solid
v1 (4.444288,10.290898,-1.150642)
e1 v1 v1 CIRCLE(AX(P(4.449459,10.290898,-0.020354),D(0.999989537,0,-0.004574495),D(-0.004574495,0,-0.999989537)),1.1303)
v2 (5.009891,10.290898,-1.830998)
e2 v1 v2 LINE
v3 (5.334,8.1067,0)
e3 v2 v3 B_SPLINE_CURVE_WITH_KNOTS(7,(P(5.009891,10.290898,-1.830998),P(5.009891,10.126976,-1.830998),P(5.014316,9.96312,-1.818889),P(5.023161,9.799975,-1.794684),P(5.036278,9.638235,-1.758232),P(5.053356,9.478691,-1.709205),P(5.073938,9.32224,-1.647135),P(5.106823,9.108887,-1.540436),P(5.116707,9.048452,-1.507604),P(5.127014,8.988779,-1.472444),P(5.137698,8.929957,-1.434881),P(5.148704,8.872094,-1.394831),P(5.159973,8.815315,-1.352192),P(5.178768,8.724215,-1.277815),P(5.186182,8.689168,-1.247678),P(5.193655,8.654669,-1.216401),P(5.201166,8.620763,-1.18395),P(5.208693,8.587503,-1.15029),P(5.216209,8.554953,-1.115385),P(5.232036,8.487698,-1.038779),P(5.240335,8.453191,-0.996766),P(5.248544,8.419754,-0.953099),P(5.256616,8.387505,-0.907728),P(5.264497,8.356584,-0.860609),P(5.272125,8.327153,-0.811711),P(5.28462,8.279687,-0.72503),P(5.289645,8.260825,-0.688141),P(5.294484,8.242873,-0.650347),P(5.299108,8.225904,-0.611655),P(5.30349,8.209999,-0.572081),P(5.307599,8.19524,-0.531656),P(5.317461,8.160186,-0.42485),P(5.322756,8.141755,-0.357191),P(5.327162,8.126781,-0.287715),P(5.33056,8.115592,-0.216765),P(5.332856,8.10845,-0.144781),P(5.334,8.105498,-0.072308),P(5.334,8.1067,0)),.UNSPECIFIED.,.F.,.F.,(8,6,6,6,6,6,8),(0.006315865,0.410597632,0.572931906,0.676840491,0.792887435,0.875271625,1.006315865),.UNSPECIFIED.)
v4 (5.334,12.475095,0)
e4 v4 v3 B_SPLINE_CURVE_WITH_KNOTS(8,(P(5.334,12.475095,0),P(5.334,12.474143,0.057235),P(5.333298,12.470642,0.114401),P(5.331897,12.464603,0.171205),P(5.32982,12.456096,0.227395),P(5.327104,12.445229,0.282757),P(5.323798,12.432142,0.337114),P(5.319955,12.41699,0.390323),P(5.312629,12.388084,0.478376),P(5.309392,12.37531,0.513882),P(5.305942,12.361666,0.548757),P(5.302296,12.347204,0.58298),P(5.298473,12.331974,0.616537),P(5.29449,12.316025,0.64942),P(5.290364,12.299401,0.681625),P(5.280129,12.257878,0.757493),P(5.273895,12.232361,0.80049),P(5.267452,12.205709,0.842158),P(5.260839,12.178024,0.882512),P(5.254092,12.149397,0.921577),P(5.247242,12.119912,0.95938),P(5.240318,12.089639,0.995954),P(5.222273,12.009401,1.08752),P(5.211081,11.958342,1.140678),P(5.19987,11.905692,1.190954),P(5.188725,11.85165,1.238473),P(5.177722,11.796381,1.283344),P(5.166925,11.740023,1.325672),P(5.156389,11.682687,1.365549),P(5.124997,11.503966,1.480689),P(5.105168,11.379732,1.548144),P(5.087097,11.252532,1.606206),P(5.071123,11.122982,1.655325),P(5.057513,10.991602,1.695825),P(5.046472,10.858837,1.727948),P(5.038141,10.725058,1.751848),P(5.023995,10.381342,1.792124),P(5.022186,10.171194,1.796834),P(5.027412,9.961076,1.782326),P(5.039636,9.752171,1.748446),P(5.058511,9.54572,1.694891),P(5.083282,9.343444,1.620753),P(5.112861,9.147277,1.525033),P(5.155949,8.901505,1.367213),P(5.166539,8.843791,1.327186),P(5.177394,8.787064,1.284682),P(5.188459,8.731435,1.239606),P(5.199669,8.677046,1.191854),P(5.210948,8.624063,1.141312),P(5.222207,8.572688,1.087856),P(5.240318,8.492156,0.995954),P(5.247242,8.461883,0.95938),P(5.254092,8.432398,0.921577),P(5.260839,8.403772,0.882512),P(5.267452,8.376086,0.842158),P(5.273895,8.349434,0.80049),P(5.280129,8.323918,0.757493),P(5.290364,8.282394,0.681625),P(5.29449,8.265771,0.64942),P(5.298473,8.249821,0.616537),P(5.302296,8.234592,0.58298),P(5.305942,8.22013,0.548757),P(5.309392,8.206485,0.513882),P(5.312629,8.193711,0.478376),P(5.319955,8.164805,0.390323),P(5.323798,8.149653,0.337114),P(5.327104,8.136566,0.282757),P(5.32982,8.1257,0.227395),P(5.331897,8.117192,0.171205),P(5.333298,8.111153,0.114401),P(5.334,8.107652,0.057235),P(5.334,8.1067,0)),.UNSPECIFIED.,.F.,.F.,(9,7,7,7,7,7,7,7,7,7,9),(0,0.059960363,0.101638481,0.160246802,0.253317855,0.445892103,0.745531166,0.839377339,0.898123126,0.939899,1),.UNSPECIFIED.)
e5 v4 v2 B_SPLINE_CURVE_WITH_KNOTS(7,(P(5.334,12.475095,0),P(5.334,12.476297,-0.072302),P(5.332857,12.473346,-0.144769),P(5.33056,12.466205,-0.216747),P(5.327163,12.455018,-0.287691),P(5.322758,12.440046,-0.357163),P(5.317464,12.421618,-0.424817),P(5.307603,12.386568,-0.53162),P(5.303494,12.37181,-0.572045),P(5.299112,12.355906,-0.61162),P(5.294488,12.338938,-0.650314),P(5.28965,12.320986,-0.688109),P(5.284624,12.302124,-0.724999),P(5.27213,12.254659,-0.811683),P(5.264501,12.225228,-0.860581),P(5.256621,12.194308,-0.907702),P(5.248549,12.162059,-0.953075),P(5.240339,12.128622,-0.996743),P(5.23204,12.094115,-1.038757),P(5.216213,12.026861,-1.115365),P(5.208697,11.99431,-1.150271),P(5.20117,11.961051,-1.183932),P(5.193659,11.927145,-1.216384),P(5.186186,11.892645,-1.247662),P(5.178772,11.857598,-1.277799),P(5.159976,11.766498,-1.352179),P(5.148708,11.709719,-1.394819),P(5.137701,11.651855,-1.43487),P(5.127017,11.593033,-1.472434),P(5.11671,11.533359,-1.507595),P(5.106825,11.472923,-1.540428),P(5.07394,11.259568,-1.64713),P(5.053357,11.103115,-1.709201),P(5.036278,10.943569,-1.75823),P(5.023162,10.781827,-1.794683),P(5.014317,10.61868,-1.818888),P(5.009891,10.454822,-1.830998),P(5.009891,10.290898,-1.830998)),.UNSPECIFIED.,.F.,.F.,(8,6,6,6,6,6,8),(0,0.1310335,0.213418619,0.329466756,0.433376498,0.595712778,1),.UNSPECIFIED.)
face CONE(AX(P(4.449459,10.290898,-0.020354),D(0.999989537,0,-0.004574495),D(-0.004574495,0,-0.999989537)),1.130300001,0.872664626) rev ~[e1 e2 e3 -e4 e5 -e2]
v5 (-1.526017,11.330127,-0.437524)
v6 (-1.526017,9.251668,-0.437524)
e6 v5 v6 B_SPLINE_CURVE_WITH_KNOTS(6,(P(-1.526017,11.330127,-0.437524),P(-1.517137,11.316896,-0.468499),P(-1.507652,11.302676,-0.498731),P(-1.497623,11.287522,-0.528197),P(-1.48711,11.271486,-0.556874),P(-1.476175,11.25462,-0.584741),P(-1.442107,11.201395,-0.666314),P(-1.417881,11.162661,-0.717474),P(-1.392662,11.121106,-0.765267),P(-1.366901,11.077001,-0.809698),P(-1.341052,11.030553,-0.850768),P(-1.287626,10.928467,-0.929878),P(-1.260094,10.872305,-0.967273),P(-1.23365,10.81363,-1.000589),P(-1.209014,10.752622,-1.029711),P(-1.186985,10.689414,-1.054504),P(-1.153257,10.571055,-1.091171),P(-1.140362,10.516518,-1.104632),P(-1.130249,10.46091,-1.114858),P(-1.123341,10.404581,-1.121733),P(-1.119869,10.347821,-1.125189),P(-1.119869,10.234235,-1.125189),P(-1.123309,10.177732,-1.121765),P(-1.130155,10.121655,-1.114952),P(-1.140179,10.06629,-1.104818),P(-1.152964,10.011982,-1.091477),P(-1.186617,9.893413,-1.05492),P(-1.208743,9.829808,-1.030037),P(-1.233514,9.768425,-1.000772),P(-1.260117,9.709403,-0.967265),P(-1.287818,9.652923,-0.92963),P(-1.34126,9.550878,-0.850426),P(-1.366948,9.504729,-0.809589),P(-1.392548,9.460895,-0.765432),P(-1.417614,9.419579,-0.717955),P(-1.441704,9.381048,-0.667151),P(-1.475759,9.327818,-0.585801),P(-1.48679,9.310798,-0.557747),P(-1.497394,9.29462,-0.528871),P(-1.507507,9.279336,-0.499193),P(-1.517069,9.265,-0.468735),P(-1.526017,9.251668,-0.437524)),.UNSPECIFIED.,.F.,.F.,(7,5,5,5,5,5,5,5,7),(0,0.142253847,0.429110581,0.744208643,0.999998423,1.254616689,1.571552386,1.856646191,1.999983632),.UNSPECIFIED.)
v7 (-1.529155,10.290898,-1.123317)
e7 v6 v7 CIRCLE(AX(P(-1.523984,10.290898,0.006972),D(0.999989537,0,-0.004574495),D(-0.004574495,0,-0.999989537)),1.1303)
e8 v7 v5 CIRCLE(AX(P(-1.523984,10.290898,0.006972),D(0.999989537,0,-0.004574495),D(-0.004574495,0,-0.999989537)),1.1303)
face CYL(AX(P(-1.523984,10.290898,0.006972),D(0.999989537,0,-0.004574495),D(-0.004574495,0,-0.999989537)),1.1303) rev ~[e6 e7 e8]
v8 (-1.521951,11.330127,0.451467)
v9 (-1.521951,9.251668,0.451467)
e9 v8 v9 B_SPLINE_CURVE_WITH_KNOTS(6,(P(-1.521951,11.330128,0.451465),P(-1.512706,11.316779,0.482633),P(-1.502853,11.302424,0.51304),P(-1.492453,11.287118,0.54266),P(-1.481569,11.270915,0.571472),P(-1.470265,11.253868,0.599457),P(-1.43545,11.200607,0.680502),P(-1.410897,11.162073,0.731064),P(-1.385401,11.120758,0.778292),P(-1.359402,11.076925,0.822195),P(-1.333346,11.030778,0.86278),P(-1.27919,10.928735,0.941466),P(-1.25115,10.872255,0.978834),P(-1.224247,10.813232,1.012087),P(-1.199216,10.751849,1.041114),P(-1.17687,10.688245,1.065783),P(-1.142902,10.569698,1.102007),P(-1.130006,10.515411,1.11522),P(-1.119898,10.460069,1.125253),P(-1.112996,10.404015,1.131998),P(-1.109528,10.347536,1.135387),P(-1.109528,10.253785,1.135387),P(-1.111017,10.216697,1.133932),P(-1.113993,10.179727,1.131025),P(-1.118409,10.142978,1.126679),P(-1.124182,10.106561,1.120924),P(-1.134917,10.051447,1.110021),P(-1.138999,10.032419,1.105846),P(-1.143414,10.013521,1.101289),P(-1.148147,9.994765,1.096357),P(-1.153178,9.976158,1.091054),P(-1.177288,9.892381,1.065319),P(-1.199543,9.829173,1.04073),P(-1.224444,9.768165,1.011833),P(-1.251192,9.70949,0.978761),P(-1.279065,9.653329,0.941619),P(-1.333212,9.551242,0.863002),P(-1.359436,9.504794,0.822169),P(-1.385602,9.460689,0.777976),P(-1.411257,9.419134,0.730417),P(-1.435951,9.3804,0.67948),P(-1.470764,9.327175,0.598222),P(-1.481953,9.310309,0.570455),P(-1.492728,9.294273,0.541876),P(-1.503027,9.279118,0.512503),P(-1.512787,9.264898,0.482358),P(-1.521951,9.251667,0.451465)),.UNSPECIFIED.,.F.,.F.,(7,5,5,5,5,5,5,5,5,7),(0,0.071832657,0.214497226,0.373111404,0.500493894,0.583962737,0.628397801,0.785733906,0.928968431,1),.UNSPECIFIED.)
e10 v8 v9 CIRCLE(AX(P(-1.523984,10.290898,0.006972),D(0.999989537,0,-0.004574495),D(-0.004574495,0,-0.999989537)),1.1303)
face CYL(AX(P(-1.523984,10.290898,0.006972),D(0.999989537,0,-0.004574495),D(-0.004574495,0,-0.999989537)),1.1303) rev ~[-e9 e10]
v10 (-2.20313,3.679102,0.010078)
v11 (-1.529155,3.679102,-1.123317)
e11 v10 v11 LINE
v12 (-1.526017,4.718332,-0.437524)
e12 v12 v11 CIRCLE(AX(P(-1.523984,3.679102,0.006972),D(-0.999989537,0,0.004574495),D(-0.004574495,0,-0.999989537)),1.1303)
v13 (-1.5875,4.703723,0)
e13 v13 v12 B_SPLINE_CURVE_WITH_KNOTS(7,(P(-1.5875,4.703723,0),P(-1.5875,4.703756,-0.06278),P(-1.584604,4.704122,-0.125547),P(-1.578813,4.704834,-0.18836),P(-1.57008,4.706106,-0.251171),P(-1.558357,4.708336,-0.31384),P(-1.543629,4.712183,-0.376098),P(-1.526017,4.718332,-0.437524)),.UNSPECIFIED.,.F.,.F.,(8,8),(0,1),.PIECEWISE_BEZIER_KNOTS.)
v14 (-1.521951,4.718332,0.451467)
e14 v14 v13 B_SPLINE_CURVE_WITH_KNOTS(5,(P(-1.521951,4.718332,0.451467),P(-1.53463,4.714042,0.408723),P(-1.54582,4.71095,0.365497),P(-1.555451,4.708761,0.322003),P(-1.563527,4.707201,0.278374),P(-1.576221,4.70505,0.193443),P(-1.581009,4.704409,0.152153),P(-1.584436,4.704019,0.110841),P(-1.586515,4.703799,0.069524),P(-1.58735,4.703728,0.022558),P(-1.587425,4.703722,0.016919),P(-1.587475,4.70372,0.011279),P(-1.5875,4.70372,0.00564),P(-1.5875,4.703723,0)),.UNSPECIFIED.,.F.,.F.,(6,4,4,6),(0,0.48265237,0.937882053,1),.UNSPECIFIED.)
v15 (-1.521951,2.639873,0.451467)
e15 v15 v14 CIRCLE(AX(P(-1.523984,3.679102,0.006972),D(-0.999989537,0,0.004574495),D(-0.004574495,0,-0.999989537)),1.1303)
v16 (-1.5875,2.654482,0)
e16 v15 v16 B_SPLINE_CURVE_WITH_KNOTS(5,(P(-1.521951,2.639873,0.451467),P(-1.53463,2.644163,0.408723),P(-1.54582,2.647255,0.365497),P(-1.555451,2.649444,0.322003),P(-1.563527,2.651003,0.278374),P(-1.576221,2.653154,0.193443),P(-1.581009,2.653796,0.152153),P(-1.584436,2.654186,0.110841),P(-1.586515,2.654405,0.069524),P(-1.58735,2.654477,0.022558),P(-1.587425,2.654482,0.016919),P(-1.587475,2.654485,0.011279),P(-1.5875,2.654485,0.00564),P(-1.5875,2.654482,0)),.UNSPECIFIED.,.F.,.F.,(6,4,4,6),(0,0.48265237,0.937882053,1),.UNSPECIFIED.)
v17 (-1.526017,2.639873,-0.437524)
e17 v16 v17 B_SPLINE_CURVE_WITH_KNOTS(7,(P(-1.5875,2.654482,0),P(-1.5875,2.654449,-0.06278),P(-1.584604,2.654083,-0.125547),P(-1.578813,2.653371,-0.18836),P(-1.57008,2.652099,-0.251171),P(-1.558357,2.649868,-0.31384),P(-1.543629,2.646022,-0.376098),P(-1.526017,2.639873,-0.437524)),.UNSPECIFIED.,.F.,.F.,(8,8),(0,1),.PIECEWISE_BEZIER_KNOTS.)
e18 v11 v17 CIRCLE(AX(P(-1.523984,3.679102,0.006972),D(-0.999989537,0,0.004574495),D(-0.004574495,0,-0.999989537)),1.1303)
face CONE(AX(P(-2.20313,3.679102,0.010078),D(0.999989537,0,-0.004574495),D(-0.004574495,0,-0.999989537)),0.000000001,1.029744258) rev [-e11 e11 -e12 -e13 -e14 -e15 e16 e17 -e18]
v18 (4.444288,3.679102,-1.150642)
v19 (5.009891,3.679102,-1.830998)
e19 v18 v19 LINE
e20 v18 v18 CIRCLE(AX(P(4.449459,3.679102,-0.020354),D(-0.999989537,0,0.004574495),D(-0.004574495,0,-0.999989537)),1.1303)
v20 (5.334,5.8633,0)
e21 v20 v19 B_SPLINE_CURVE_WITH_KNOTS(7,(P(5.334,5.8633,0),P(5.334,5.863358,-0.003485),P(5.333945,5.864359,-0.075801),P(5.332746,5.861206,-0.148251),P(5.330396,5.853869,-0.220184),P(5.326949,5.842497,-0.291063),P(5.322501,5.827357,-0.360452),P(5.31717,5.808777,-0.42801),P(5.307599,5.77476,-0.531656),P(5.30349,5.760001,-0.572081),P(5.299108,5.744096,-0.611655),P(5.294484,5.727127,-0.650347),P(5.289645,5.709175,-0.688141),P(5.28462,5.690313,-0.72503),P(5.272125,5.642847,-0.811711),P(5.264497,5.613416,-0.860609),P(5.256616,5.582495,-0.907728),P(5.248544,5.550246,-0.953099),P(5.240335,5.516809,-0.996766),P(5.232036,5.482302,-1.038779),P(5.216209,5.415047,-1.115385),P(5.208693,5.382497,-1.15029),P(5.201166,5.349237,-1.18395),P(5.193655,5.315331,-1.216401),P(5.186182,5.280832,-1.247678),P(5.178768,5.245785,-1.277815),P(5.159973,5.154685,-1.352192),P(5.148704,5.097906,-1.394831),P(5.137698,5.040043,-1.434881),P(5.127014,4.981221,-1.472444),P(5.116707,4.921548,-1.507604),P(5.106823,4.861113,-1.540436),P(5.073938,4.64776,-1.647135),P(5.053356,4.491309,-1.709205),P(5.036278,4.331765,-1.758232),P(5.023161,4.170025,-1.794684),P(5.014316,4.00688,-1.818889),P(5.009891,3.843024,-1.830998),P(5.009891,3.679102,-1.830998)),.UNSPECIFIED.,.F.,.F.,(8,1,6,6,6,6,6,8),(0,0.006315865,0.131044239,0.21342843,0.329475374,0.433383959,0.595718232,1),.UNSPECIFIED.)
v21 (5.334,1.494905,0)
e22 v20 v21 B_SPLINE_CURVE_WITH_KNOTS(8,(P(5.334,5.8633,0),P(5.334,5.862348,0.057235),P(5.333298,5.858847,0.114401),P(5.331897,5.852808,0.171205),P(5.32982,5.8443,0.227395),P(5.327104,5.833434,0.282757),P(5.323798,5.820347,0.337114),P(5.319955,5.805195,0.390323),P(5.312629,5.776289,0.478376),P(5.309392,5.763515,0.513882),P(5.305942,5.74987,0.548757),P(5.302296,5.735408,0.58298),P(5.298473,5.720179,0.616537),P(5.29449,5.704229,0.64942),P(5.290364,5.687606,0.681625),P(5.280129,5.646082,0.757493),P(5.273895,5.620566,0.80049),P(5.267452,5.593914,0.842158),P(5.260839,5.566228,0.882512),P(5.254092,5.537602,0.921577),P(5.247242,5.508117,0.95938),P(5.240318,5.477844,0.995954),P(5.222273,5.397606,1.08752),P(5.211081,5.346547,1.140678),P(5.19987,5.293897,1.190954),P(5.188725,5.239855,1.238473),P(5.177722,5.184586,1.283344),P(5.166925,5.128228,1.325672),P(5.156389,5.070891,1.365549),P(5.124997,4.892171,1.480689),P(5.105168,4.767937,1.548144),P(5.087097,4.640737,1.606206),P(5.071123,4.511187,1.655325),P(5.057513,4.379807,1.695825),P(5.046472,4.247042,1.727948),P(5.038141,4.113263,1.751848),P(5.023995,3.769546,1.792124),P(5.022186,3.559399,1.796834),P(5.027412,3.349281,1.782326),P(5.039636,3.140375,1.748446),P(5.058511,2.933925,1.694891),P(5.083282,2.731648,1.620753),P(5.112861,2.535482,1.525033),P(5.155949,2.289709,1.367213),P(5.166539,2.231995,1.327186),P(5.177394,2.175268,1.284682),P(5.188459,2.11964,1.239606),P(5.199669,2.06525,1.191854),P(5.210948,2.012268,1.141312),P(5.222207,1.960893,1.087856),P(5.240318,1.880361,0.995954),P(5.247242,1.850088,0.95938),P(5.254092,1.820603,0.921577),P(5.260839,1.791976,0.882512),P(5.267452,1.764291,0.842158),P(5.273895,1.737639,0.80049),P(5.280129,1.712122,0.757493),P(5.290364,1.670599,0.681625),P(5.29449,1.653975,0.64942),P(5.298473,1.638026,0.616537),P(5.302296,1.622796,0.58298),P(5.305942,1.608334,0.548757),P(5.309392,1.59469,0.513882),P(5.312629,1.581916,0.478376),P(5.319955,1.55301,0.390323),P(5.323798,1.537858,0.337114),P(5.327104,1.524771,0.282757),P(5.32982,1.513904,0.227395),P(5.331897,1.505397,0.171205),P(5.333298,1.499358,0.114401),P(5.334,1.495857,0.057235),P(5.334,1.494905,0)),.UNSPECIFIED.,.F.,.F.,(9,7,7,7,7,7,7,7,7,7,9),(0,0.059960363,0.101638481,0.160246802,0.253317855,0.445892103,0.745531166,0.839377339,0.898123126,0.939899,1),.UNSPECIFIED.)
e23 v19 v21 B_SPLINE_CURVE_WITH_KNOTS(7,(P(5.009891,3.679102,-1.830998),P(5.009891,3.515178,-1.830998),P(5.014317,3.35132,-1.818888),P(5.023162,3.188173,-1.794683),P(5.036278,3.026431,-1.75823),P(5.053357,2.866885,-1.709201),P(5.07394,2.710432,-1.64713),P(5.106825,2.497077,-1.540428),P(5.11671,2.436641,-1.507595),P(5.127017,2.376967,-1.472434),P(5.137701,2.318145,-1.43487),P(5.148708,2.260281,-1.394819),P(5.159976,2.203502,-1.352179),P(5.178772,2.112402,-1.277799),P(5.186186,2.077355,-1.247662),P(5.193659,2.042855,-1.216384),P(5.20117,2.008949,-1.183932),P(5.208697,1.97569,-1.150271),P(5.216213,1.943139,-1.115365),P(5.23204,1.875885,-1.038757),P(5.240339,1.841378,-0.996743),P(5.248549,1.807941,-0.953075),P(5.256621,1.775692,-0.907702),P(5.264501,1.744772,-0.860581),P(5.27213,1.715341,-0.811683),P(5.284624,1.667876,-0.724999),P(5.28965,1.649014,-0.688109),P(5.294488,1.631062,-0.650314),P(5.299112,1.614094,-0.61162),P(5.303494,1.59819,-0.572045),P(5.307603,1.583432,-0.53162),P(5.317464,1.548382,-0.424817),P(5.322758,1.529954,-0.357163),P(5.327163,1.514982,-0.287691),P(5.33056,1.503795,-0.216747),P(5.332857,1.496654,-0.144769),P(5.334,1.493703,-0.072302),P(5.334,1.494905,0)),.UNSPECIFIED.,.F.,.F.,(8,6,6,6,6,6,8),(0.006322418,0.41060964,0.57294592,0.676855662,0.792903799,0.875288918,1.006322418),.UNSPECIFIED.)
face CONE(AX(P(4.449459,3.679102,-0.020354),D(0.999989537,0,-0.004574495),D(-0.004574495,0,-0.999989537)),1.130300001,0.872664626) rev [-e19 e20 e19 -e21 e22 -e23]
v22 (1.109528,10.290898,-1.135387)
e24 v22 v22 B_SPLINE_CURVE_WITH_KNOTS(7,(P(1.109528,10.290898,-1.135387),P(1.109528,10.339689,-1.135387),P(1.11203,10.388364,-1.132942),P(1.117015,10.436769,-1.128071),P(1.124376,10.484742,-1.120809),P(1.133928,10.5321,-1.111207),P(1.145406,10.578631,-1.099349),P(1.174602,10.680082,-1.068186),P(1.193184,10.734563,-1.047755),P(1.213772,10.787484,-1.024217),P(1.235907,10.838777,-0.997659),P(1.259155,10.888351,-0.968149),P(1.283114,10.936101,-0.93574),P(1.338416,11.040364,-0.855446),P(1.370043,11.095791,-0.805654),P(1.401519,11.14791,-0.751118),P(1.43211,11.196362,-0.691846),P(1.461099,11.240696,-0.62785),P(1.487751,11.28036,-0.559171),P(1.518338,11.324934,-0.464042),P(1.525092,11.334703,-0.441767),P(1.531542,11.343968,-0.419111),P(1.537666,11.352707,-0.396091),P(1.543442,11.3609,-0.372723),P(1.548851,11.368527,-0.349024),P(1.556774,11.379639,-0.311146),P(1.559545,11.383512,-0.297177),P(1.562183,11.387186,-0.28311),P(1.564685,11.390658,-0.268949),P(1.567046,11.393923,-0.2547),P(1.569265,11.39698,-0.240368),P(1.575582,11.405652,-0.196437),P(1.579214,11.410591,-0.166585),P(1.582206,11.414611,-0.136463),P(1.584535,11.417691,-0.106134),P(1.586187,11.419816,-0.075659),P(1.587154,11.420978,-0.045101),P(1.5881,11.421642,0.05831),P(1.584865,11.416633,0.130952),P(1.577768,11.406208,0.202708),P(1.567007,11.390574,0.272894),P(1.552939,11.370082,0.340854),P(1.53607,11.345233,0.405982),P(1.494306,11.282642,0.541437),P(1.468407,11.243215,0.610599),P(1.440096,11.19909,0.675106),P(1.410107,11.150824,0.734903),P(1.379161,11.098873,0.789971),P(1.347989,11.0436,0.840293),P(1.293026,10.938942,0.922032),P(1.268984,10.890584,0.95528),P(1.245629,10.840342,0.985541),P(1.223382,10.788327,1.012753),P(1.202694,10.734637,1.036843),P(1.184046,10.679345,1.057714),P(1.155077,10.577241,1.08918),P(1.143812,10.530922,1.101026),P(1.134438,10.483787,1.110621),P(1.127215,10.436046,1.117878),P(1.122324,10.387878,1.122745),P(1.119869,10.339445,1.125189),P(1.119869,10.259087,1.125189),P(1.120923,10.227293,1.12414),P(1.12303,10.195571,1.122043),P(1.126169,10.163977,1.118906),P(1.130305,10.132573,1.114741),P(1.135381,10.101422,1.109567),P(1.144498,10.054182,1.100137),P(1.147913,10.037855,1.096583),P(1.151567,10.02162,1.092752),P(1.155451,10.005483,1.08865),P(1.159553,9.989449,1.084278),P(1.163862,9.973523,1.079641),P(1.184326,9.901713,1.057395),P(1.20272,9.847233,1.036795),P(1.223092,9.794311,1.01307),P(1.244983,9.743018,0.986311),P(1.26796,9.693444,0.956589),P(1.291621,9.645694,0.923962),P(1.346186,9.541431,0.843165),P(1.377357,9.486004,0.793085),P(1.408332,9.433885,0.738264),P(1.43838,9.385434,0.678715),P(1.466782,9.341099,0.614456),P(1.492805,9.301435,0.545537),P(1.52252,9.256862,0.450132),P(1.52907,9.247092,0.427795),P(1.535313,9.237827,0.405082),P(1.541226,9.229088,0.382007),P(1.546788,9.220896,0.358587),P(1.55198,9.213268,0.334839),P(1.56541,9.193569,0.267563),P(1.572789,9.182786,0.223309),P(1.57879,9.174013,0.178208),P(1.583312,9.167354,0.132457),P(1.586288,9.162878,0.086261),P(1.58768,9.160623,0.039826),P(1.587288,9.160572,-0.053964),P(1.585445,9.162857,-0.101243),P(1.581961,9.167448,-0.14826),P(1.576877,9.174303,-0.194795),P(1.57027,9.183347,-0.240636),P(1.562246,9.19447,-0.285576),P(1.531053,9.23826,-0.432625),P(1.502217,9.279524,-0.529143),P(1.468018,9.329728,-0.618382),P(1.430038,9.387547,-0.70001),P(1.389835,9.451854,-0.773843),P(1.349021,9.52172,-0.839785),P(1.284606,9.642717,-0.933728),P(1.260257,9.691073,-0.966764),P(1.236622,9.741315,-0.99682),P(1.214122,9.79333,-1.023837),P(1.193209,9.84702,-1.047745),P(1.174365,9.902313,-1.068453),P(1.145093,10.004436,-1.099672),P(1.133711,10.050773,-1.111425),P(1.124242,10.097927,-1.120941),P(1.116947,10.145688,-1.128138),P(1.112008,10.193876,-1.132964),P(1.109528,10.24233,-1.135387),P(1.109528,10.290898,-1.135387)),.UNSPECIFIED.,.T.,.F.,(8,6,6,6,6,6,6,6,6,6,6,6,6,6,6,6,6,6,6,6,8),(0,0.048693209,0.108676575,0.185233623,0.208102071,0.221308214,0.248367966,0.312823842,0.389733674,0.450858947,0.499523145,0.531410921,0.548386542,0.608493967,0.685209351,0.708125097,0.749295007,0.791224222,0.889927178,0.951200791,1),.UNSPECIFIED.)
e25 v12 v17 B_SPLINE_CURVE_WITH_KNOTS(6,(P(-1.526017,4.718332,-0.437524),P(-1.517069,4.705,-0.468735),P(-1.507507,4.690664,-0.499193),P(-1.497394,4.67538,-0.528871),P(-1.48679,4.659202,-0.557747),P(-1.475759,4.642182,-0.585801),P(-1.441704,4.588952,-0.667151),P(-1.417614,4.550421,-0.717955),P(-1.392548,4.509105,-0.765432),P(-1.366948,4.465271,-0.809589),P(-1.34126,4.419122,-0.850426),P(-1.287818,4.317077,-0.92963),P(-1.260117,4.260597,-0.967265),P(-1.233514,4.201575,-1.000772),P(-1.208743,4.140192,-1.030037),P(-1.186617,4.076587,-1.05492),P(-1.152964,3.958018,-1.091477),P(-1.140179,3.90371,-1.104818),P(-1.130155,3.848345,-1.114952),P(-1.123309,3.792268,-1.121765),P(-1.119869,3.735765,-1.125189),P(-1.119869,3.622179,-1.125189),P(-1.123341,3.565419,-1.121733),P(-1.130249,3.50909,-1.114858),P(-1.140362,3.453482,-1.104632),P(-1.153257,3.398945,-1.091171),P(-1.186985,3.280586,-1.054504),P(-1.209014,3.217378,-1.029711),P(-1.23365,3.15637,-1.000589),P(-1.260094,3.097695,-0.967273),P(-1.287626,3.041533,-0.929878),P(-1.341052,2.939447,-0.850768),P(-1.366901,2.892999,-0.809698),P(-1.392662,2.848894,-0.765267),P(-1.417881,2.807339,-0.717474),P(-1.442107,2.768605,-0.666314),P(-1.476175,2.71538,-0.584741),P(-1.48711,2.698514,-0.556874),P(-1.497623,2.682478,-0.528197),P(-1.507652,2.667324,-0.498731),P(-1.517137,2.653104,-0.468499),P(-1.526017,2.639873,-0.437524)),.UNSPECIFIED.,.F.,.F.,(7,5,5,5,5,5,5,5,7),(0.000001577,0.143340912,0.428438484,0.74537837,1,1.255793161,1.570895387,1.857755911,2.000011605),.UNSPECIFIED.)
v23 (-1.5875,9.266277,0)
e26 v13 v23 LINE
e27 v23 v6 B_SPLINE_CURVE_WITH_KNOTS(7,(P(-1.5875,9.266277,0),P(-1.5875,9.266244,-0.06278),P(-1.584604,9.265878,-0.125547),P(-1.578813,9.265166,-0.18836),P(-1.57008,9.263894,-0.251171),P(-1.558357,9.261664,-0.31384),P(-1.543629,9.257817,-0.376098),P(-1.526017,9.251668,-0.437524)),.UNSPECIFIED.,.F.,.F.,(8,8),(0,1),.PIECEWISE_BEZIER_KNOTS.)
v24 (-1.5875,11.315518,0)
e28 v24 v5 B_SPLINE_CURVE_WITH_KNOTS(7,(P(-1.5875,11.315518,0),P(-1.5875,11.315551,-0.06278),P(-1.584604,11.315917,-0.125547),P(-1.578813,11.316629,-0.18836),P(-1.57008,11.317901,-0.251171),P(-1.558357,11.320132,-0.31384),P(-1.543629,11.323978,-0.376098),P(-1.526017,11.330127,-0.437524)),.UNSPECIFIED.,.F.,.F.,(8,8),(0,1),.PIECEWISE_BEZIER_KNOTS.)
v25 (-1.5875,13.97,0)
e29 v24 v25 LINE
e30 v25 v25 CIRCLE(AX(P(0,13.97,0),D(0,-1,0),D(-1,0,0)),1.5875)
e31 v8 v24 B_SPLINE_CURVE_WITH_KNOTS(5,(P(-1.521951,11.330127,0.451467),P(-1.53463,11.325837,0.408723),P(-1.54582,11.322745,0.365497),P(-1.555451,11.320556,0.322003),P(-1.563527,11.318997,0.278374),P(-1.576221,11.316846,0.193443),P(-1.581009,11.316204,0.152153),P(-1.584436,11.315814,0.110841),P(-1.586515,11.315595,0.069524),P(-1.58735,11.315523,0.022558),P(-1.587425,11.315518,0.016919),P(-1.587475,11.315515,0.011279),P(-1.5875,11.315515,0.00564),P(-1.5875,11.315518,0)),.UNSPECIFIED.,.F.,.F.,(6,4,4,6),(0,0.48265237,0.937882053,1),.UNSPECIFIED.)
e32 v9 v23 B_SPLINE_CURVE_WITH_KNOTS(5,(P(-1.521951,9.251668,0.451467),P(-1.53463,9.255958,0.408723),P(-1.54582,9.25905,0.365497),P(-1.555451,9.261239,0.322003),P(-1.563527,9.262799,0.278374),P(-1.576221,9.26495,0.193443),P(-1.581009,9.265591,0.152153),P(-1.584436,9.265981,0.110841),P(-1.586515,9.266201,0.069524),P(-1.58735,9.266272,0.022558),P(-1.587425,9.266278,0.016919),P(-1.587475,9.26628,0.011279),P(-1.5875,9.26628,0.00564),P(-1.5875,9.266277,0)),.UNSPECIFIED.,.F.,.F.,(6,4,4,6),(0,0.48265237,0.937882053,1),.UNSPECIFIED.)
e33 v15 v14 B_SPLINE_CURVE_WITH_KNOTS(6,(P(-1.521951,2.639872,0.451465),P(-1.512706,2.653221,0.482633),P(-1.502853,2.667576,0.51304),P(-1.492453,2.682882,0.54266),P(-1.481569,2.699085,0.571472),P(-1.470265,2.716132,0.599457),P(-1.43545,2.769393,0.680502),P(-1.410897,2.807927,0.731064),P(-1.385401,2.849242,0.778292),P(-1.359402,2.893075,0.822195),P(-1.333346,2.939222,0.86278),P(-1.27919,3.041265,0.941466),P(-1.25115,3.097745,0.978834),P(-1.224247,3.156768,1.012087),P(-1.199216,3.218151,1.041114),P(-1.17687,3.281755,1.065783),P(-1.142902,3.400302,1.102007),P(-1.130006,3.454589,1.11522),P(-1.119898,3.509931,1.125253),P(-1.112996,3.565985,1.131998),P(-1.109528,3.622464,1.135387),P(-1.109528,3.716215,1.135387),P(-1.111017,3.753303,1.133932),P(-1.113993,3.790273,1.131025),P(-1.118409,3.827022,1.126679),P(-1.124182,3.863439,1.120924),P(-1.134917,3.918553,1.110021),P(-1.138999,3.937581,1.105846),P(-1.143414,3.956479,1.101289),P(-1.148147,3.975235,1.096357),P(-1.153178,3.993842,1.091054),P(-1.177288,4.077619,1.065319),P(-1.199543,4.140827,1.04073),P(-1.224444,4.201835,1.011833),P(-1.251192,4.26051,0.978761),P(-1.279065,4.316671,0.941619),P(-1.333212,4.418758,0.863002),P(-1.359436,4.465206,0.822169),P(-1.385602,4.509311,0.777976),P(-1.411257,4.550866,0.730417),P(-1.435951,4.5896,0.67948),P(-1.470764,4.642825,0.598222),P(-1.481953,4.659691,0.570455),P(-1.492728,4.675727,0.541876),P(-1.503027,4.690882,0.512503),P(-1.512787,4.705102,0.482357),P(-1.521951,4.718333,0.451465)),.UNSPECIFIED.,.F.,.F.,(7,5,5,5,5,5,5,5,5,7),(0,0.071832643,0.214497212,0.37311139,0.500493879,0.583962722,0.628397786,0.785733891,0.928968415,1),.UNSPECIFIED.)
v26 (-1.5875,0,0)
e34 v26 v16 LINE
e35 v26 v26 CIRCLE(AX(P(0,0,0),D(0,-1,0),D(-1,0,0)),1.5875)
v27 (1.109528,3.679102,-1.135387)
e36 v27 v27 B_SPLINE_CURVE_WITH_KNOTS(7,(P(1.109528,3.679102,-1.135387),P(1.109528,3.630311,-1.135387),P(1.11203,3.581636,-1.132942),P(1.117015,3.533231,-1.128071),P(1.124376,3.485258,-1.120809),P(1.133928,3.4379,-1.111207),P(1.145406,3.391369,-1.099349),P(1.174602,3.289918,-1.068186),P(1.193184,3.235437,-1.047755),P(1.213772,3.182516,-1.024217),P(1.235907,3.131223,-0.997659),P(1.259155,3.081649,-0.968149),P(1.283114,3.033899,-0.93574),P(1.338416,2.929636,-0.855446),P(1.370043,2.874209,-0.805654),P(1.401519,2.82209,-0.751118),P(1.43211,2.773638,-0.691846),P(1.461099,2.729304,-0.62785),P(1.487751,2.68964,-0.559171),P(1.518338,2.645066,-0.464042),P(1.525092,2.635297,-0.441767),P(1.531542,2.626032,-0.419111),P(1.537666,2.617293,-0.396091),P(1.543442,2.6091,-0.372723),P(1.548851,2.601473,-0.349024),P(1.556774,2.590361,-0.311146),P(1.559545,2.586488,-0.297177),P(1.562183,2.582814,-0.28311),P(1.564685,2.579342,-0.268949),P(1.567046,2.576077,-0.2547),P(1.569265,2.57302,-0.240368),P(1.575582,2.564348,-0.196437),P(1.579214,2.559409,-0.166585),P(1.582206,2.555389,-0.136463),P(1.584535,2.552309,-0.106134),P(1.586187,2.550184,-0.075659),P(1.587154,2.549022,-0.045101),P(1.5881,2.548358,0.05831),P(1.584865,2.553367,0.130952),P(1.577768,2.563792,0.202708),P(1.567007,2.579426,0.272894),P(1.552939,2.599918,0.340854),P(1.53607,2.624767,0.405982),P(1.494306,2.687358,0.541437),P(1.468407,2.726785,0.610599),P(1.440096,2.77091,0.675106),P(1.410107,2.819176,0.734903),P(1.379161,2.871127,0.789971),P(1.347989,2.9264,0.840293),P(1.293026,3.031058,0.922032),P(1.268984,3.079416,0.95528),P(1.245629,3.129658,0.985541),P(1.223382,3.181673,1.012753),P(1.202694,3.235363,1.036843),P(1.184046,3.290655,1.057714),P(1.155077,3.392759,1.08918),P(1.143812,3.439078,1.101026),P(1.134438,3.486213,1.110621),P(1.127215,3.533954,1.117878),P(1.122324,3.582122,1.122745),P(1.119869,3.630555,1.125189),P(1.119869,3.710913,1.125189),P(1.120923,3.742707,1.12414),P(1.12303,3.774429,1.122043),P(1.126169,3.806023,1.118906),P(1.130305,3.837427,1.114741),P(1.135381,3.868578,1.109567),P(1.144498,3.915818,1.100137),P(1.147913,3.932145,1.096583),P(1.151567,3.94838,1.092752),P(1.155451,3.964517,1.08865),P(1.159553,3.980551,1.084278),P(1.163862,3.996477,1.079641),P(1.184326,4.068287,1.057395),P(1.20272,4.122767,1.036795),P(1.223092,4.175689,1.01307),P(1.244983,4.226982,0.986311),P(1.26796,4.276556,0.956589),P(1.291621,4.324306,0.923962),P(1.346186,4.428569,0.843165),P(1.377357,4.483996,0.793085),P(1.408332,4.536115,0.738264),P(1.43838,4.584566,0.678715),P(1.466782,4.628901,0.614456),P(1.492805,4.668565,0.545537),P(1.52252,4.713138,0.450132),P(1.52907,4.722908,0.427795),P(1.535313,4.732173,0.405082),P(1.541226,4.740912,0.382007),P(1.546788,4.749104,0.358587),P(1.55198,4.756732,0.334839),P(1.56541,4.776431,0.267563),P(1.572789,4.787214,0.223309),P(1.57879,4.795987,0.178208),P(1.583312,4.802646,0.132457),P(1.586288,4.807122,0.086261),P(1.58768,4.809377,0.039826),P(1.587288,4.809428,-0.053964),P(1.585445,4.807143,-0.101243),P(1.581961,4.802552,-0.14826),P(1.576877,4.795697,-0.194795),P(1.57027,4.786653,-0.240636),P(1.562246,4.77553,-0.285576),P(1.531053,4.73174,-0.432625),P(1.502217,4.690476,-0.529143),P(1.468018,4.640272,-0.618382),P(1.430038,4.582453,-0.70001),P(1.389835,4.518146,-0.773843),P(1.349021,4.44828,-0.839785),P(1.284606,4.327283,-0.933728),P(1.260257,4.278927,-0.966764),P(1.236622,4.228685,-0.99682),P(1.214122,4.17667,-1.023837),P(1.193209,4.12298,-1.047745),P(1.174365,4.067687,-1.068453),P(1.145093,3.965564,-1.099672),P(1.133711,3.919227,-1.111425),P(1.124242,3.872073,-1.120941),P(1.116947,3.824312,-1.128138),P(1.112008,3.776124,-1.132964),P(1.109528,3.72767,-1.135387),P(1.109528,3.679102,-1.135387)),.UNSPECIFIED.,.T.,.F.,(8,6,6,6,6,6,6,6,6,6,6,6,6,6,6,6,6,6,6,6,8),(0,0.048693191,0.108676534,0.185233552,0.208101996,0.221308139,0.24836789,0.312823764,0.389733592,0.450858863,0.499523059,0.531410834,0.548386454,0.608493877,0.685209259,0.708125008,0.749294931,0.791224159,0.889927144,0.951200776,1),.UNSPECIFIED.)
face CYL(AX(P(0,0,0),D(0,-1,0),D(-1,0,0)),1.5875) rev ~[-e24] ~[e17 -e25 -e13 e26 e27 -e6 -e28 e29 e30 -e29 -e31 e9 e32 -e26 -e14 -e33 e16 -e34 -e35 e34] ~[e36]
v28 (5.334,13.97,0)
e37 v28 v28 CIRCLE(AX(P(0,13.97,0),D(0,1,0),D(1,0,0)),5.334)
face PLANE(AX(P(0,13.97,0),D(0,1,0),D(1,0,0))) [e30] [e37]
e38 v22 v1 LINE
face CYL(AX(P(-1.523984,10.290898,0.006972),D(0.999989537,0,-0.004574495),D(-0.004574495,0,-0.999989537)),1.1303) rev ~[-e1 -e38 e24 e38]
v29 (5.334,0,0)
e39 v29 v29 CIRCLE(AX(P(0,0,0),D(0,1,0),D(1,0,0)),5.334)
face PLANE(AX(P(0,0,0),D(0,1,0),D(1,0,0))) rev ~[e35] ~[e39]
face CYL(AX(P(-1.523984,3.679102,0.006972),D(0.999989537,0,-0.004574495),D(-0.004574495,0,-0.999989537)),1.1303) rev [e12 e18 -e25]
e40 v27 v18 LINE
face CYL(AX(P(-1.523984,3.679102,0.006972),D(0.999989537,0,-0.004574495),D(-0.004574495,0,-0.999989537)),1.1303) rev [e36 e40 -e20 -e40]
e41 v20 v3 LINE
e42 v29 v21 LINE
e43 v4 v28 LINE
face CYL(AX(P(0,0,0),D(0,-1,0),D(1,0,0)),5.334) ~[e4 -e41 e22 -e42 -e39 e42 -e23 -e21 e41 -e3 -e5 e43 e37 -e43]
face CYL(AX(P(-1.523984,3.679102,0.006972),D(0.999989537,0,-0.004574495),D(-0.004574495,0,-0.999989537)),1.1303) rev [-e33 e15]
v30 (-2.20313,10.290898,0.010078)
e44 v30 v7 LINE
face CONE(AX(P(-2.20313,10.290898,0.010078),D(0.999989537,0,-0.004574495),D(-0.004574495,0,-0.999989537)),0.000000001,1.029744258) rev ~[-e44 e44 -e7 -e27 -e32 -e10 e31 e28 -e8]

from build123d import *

# Parameters (mm, degrees)
SKETCH1_R           = 5.334
BOSS_EXTRUDE1_DEPTH = 13.97
SKETCH2_R           = 1.5875
CUT_EXTRUDE1_DEPTH  = 14.97


with BuildPart() as part:
    # Sketch1 → Boss-Extrude1 (new body)
    with BuildSketch(Plane(origin=(0, 0, 0), x_dir=(1, 0, 0), z_dir=(0, 1, 0))):
        Circle(SKETCH1_R)
    extrude(amount=BOSS_EXTRUDE1_DEPTH)

    # Sketch2 → Cut-Extrude1 (cut, through all)
    with BuildSketch(Plane(origin=(0, 0, 0), x_dir=(-1, 0, 0), z_dir=(0, -1, 0))):
        Circle(SKETCH2_R)
    extrude(amount=-CUT_EXTRUDE1_DEPTH, mode=Mode.SUBTRACT)

    # Sketch6 → CSK for #2 Flat Head Machine Screw (100)2 (revolve, cut)
    with BuildSketch(Plane(origin=(5.33394419, 3.679102393, -0.024400355), x_dir=(-0.004574495, 0, -0.999989537), z_dir=(0, 1, 0))):
        Polygon((0, 0), (0, 7.537152758), (1.1303, 6.858), (1.1303, 0.884494921), (2.1844, 0), align=None)
    csk_for_2_flat_head_machine_screw_100 = revolve(axis=Axis((11.68387775, 3.679102393, -0.053448397), (-0.999989537, 0, 0.004574495)), mode=Mode.SUBTRACT)

    # Mirror3: CSK for #2 Flat Head Machine Screw (100)2 across plane
    add(csk_for_2_flat_head_machine_screw_100.mirror(Plane(origin=(0, 6.985, 0), x_dir=(0, 0, 1), z_dir=(0, -1, 0))), mode=Mode.SUBTRACT)


solid = part.part
